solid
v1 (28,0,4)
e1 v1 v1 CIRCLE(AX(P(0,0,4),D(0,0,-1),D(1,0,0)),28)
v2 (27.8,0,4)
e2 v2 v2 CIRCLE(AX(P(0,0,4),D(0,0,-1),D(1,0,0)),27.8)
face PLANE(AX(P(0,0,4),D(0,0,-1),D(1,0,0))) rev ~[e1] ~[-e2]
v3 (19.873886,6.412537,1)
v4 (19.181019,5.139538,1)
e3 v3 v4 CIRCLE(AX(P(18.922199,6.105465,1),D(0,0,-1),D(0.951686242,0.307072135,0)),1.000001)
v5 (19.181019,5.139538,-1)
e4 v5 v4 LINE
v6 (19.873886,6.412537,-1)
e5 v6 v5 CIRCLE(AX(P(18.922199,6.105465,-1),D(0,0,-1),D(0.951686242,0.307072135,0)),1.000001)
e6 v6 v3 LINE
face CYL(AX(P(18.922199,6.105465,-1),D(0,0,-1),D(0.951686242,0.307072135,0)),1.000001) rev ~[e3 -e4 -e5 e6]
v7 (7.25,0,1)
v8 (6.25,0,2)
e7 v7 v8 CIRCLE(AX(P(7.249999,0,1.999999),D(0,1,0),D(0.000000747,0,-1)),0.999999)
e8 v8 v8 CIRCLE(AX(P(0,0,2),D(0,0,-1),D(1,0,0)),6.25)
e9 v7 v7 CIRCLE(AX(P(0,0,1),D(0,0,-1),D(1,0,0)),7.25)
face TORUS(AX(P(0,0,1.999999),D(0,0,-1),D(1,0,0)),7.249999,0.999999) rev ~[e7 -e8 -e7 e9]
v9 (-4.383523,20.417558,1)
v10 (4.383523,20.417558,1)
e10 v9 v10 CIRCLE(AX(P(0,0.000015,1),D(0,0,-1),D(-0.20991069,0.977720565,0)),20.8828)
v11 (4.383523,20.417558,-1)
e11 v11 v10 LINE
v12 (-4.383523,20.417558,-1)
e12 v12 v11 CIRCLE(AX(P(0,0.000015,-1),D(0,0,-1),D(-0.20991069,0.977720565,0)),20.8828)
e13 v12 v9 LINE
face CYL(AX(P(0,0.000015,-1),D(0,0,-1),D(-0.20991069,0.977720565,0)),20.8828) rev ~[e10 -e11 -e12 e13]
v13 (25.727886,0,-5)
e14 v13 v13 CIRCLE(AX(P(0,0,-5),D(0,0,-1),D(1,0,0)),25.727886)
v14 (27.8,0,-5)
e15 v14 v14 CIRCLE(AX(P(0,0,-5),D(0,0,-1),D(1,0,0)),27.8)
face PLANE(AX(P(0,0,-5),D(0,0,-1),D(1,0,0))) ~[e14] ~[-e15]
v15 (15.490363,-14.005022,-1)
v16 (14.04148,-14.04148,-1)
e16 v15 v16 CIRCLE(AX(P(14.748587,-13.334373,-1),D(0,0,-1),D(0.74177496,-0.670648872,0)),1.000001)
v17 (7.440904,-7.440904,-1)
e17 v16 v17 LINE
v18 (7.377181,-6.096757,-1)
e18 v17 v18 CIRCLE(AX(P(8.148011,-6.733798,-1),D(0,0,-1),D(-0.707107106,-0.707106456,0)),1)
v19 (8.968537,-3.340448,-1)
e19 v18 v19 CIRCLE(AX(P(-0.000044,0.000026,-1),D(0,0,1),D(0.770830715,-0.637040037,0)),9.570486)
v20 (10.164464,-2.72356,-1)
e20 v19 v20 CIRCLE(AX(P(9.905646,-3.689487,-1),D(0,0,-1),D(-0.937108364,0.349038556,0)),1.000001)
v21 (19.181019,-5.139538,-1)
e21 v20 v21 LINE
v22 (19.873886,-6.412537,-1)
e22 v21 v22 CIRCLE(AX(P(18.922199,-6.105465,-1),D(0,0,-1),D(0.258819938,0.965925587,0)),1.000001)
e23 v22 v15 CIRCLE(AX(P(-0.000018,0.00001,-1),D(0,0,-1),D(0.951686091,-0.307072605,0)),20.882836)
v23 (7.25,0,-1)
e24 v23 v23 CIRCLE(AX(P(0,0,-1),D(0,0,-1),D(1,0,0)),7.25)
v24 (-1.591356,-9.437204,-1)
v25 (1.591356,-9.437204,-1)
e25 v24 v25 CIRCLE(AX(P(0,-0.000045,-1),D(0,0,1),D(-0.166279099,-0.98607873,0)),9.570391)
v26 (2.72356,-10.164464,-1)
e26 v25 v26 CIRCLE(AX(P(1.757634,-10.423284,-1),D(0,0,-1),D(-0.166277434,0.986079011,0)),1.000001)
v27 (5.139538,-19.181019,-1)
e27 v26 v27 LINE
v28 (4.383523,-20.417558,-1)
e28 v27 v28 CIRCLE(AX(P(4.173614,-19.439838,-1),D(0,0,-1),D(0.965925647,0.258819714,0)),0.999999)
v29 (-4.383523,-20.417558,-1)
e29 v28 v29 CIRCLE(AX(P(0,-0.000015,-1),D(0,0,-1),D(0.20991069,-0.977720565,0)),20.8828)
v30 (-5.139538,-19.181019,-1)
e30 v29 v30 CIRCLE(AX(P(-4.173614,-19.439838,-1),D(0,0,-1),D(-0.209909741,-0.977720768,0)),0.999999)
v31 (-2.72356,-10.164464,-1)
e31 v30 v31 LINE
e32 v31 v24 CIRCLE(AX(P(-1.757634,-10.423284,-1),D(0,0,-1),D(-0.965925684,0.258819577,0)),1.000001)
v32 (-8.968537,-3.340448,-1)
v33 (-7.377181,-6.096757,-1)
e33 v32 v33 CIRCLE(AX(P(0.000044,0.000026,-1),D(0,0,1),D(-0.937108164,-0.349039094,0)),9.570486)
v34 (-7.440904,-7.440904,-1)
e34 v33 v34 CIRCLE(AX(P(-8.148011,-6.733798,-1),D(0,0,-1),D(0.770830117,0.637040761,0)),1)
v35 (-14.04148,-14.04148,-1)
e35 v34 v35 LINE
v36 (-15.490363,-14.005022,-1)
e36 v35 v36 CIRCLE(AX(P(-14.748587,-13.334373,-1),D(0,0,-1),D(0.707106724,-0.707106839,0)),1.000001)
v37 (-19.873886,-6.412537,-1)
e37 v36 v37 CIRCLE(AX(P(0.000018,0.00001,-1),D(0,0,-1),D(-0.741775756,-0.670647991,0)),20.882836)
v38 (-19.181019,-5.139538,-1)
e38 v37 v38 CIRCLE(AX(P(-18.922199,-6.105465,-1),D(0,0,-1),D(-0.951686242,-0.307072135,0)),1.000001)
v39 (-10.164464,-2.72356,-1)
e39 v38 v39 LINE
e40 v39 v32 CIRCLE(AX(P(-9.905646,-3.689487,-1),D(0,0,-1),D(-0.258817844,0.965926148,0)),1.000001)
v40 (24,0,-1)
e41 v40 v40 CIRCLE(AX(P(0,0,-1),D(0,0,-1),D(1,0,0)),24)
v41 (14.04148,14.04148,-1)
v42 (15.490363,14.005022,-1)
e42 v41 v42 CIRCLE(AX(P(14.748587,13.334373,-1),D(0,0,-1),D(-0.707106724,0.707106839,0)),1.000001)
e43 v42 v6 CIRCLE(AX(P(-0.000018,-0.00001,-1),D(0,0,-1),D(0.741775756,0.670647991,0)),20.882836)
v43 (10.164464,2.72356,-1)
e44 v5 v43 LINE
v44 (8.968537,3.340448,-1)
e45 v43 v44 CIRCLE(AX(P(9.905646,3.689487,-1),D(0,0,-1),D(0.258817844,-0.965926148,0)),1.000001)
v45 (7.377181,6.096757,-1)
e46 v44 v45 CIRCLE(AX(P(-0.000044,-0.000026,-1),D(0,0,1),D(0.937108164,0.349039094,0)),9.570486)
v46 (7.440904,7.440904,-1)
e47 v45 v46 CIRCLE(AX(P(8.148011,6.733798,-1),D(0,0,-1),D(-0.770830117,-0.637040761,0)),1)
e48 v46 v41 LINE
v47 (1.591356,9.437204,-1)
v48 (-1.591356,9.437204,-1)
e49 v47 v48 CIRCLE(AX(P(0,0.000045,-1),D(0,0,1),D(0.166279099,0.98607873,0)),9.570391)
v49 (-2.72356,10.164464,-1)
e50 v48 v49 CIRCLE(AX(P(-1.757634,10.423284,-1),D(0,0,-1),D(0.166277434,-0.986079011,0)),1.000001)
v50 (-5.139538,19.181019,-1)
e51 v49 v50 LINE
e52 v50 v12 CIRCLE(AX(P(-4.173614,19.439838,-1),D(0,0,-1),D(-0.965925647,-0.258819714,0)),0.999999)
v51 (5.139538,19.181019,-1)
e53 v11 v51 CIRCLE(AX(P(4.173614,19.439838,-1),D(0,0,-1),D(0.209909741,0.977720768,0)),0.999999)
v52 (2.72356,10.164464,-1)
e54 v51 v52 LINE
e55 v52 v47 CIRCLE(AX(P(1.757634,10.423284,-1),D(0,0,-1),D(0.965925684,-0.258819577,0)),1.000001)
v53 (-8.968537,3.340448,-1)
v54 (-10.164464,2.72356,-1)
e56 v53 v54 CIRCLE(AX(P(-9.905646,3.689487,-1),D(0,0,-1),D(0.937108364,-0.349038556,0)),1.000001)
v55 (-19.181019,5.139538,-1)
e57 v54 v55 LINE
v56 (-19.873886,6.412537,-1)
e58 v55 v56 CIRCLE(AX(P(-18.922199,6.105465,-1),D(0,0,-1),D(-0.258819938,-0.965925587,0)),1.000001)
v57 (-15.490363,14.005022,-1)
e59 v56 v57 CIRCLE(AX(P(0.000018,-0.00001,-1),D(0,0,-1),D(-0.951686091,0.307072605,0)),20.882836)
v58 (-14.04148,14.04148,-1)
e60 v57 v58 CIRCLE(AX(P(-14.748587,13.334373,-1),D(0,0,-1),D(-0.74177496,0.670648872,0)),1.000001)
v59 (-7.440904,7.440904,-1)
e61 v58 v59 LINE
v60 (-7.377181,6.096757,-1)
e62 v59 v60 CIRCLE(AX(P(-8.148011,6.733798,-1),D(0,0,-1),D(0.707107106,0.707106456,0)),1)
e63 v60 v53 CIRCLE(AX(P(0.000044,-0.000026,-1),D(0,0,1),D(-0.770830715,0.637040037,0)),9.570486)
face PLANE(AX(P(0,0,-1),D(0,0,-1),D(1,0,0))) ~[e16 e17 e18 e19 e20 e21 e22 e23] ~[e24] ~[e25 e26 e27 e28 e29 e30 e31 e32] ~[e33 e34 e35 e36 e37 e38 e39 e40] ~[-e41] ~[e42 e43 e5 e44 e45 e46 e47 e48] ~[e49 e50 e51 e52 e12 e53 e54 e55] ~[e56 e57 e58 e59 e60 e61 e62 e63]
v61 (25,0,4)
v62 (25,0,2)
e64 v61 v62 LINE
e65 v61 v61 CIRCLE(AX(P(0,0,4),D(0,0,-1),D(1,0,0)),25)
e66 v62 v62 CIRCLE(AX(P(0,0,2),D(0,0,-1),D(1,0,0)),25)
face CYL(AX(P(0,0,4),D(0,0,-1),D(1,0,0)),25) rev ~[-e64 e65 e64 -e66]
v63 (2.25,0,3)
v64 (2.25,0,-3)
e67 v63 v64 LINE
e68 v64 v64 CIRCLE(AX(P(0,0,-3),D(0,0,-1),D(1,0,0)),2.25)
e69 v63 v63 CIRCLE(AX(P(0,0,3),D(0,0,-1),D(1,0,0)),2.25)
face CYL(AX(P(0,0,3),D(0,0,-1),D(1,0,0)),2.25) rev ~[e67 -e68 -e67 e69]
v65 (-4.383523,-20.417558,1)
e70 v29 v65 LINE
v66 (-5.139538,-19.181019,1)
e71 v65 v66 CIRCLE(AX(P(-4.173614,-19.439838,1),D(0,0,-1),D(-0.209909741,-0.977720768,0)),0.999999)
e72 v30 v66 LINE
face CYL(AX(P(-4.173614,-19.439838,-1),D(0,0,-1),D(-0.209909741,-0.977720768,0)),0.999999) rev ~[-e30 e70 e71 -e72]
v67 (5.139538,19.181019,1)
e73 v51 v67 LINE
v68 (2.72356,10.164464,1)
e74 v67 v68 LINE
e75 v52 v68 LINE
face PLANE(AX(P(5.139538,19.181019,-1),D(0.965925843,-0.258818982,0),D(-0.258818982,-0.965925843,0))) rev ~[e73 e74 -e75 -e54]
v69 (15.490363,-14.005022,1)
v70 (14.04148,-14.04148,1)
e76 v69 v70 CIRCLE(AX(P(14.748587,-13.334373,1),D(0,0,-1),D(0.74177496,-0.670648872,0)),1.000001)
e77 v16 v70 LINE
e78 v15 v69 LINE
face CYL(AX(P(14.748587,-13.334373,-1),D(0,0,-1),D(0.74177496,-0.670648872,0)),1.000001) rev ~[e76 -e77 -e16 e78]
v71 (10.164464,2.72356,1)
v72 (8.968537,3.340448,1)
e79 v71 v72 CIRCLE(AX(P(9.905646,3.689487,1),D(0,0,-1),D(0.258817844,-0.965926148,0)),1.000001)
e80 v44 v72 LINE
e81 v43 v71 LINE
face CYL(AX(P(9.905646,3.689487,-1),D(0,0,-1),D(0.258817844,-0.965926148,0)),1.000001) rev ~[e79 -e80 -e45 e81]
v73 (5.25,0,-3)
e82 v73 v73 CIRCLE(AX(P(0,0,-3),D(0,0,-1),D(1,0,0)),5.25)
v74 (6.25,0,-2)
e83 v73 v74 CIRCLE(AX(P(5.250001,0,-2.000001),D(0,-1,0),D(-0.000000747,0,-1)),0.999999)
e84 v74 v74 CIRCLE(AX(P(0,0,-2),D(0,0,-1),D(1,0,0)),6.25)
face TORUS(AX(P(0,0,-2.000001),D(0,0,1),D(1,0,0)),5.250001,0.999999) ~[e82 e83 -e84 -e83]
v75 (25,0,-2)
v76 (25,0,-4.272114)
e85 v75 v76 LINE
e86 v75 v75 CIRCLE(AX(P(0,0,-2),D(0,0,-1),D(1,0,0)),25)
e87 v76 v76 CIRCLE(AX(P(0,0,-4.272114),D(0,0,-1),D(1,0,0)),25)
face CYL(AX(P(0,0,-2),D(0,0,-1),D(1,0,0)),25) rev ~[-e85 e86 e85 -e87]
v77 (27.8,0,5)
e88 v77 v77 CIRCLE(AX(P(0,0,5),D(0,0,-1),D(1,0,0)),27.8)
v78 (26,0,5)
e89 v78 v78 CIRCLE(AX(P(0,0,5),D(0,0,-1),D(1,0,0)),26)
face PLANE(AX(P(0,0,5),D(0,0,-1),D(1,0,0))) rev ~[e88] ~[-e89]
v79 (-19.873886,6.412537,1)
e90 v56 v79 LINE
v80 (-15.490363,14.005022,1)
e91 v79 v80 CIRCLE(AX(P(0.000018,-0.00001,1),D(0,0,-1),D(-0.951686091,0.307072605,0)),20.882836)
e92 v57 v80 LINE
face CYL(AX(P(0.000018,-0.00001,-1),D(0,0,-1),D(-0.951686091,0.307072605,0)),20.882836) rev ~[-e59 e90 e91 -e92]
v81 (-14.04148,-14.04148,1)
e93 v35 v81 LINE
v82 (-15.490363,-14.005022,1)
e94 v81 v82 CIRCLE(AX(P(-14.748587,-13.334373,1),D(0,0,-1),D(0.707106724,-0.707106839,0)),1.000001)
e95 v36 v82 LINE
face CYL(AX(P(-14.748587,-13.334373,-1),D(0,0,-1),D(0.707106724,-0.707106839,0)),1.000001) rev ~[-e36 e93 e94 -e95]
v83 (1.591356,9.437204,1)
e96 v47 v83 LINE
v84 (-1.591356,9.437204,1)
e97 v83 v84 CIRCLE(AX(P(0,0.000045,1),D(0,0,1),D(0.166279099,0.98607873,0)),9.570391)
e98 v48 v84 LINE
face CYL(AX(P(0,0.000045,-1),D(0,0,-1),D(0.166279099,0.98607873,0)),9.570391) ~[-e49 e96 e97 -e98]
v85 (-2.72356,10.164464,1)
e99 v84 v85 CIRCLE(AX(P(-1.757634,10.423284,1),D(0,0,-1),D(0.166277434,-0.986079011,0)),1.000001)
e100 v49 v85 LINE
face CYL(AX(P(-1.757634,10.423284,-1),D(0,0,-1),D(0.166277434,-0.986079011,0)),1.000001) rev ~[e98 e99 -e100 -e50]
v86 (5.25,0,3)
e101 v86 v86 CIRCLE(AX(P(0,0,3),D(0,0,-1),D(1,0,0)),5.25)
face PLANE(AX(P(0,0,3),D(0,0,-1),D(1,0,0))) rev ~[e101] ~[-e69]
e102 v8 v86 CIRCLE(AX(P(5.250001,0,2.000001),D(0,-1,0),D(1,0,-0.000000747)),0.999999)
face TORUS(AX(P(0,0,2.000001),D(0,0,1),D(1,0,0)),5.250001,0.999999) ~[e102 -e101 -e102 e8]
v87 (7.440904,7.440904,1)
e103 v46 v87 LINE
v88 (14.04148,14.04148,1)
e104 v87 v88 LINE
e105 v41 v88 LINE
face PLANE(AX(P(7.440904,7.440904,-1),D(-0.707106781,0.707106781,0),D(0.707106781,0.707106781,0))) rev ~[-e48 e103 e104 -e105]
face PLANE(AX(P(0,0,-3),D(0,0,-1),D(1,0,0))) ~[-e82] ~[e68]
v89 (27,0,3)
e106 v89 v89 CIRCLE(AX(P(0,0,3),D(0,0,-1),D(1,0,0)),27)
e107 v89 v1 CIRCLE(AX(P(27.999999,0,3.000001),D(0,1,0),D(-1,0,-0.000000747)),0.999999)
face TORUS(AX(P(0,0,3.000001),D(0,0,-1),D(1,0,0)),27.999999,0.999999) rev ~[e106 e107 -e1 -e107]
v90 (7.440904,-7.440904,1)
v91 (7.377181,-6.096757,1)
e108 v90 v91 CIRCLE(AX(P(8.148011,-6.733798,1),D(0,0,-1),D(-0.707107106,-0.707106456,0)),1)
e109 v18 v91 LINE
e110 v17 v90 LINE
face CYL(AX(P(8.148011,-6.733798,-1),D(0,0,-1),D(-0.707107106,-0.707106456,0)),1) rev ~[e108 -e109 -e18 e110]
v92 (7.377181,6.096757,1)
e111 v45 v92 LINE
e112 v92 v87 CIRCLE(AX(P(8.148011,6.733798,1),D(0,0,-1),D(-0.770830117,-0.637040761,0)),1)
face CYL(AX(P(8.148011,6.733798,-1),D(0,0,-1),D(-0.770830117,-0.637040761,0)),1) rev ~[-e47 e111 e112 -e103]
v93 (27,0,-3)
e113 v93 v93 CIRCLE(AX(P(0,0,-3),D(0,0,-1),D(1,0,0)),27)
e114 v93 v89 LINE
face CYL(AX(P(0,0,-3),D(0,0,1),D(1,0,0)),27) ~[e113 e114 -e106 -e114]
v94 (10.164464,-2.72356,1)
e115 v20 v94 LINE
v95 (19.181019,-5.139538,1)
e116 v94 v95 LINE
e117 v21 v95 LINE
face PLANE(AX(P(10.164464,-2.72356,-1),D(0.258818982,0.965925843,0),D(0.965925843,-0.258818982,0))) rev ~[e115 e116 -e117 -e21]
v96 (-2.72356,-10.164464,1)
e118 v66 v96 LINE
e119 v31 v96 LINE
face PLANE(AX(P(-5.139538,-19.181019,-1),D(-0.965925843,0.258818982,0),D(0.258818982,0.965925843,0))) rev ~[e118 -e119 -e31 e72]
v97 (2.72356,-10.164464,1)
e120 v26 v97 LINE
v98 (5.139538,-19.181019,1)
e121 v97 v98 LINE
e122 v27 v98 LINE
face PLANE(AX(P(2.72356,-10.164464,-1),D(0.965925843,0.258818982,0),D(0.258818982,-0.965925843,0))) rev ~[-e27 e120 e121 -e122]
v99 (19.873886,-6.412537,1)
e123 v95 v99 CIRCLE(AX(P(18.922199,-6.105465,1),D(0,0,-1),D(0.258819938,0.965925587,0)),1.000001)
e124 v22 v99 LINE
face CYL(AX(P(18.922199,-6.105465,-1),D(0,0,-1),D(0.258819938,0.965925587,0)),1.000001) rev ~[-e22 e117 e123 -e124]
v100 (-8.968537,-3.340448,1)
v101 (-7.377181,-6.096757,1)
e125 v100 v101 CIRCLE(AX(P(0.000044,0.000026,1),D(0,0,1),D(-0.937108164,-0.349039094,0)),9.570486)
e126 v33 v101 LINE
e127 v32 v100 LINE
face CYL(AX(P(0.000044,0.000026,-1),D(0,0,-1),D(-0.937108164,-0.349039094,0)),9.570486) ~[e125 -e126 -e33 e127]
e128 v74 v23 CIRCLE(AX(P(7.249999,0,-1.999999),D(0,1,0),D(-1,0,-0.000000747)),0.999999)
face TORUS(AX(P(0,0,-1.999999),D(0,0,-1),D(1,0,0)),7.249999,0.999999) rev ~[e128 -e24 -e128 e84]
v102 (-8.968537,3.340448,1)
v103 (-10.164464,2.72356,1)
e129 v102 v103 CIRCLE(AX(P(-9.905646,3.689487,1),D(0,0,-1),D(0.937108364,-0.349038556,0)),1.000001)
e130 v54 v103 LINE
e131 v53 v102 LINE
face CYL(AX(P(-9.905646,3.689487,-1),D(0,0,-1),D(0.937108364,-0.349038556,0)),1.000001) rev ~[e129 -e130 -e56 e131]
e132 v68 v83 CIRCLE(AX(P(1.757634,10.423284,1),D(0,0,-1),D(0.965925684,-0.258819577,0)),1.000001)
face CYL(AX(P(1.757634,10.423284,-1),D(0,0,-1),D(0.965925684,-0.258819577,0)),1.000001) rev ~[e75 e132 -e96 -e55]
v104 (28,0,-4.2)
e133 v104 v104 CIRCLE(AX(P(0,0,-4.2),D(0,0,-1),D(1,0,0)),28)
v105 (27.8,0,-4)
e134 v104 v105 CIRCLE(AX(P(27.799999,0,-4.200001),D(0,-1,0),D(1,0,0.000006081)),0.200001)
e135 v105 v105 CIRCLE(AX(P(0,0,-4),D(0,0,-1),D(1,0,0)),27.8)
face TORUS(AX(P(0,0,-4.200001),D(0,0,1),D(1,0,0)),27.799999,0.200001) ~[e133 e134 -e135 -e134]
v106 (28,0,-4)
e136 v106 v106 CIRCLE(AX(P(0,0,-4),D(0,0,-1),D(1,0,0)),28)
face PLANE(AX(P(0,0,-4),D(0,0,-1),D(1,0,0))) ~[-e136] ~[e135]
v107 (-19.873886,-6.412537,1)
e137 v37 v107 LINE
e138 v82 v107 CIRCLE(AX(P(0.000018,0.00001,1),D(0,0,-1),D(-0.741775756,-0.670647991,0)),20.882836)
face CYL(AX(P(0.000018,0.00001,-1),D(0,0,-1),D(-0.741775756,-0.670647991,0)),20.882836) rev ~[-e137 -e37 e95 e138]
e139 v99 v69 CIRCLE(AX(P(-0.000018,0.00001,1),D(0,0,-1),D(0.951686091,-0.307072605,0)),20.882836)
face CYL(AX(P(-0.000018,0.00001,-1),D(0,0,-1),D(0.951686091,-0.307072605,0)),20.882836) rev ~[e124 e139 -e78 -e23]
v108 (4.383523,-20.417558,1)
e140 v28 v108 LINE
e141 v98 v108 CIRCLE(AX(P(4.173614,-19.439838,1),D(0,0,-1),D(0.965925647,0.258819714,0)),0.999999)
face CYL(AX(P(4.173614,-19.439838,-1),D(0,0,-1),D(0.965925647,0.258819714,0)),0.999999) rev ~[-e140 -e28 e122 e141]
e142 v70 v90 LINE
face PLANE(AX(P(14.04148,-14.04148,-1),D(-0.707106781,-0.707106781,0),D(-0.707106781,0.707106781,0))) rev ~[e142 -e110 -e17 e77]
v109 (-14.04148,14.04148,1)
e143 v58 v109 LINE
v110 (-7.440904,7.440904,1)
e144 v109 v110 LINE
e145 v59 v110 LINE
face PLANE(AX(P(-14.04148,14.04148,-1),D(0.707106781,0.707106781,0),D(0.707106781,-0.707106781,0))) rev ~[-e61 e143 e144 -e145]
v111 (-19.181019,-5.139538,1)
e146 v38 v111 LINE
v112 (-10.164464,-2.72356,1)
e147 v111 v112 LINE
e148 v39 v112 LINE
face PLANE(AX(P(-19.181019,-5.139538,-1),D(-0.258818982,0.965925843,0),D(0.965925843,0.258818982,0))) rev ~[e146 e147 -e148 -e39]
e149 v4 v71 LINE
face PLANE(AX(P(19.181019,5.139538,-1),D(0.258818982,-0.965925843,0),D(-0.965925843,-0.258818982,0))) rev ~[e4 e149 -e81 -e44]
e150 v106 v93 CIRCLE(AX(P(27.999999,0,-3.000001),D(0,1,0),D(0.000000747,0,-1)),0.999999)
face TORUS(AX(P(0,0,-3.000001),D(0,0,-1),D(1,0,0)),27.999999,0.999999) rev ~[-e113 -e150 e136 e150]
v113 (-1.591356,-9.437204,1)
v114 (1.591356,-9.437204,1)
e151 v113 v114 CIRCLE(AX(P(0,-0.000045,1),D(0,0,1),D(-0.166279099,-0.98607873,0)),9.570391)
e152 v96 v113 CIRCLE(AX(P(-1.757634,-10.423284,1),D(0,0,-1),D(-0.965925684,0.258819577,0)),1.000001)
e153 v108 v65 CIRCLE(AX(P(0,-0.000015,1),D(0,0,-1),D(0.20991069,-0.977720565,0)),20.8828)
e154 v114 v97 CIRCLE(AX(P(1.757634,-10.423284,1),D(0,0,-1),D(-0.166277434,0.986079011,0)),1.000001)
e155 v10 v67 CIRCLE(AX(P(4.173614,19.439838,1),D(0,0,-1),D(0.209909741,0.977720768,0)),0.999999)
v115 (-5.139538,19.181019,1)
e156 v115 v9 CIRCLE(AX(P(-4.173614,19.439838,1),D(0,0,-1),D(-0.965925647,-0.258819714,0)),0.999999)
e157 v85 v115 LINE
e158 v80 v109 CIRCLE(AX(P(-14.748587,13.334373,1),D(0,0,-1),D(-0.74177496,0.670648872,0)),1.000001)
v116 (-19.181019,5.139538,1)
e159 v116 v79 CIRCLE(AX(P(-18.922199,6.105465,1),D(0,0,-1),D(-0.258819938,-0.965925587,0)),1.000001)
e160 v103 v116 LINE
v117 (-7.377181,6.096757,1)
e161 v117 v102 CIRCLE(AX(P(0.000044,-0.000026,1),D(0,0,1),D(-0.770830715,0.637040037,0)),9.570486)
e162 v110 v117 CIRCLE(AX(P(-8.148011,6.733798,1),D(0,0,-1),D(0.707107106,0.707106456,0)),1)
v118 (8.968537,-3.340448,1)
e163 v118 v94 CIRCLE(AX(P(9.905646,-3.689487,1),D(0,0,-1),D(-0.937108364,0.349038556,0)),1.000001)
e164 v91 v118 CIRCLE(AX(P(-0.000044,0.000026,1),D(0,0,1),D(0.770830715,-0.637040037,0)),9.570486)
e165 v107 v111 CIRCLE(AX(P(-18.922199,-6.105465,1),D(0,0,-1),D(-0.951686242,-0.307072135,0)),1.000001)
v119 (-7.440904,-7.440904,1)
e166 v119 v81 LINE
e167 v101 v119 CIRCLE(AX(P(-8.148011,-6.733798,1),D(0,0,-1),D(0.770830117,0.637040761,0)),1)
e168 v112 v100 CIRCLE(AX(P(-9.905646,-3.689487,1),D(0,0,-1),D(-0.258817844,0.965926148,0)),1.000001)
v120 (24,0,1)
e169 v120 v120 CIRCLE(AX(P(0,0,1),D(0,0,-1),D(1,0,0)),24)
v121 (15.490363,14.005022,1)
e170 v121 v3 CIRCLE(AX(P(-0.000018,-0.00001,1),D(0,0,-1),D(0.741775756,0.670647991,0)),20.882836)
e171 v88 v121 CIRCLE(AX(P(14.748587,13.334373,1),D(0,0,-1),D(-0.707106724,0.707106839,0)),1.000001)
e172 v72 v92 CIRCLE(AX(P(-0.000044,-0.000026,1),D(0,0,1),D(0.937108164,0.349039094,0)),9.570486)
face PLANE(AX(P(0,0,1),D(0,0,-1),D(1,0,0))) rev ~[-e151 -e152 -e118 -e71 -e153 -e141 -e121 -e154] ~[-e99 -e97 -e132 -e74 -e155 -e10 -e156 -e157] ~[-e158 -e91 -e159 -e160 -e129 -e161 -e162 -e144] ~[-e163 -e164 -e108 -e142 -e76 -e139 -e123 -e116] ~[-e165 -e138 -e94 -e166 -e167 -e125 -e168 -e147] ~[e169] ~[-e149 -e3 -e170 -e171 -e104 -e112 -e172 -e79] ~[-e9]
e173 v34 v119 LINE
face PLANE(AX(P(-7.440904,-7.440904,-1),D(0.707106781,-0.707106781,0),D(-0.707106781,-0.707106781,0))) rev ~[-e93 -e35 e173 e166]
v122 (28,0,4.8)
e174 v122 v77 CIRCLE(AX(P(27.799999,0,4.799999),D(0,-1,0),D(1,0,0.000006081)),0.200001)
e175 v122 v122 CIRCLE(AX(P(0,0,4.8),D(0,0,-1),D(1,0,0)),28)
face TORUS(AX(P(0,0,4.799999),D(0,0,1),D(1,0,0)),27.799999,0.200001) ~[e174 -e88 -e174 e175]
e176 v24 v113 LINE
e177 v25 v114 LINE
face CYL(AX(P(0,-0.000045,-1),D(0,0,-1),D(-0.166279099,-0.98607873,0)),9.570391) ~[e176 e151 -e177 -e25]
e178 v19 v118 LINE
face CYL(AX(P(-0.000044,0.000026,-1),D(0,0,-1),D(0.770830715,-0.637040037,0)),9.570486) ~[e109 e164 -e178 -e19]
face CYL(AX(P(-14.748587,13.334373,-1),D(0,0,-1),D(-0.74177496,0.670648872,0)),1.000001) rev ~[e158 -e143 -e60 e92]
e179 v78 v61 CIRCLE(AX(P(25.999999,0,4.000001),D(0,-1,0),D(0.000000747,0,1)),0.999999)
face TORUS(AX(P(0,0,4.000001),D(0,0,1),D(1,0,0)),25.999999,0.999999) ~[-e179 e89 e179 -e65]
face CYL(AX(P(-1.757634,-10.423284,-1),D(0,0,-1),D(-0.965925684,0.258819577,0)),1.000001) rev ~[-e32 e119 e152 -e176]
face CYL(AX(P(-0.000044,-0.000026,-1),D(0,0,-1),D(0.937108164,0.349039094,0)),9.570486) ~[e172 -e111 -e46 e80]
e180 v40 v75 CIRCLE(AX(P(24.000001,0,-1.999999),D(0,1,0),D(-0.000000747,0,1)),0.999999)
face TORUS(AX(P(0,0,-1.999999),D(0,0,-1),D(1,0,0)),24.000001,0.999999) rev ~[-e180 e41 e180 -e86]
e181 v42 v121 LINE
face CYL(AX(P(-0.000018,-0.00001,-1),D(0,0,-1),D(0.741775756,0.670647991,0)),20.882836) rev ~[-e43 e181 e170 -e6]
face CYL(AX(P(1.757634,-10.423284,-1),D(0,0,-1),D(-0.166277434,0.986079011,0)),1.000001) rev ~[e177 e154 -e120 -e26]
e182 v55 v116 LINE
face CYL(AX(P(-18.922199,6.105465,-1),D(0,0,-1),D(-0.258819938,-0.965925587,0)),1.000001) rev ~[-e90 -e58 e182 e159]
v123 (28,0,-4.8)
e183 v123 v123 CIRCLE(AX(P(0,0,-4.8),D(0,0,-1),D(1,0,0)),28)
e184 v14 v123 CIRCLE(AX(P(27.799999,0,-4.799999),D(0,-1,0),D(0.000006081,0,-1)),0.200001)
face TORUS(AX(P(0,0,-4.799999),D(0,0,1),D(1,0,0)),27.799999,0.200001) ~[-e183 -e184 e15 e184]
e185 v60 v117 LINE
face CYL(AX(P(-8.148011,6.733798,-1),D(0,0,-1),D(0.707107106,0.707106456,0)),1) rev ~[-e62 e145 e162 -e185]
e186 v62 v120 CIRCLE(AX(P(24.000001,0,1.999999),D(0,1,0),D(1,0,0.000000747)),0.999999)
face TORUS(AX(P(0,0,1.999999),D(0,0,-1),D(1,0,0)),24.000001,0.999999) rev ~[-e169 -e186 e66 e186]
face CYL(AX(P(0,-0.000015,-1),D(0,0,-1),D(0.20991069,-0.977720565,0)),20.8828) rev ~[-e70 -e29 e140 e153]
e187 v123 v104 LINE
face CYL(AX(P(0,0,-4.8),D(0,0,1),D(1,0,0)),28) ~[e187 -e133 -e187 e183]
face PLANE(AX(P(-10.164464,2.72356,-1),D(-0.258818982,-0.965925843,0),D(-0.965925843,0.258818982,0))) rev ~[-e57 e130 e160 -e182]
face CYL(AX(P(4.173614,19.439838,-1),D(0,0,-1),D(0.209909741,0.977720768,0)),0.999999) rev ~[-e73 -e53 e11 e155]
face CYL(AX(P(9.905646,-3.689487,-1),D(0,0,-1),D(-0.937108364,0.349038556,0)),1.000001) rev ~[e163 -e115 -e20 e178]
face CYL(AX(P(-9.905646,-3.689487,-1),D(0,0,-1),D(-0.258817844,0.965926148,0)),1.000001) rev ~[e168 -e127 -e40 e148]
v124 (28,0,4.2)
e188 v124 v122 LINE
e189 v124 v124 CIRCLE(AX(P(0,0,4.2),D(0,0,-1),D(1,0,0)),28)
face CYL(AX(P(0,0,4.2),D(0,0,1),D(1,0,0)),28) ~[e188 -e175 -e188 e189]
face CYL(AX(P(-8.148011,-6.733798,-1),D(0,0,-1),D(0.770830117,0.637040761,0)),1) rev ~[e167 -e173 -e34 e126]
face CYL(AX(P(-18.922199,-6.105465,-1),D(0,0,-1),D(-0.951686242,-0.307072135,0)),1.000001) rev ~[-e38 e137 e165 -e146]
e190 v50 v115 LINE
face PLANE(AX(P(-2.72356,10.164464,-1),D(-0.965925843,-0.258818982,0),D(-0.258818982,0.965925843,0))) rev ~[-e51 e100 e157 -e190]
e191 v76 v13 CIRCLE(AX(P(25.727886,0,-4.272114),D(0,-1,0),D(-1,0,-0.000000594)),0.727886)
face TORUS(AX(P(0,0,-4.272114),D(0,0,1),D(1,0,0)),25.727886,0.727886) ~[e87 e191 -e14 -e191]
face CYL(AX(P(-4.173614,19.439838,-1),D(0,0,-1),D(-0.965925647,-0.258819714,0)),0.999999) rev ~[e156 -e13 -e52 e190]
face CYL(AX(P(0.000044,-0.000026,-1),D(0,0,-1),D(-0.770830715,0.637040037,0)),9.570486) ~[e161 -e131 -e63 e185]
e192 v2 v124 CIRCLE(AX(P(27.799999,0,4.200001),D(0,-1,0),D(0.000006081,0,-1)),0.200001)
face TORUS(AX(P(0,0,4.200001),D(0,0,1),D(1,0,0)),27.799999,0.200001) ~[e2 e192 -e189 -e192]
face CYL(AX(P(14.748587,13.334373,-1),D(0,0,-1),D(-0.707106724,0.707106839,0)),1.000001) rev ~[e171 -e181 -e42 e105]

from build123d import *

# Parameters (mm, degrees)
F4_DEPTH = 2


with BuildPart() as f1:
    # F0 (on Front) → F1 (revolve)
    with BuildSketch(Plane.XZ):
        with BuildLine():
            Line((24, 1), (7.25, 1))
            ThreePointArc((7.25, 1), (6.542893, 1.292893), (6.25, 2))
            ThreePointArc((6.25, 2), (5.957107, 2.707107), (5.25, 3))
            Line((5.25, 3), (2.25, 3))
            Line((2.25, 3), (2.25, 1))
            Line((2.25, 1), (2.25, -1))
            Line((2.25, -1), (2.25, -2.505758))
            Line((2.25, -2.505758), (2.25, -3))
            Line((2.25, -3), (5.25, -3))
            ThreePointArc((5.25, -3), (5.957107, -2.707107), (6.25, -2))
            ThreePointArc((6.25, -2), (6.542893, -1.292893), (7.25, -1))
            Line((7.25, -1), (24, -1))
            ThreePointArc((24, -1), (24.707107, -1.292893), (25, -2))
            Line((25, -2), (25, -3))
            Line((25, -3), (25, -4.272114))
            ThreePointArc((25, -4.272114), (25.213193, -4.786807), (25.727886, -5))
            Line((25.727886, -5), (27.8, -5))
            ThreePointArc((27.8, -5), (27.941421, -4.941421), (28, -4.8))
            Line((28, -4.8), (28, -4.2))
            ThreePointArc((28, -4.2), (27.941421, -4.058579), (27.8, -4))
            Line((27.8, -4), (28, -4))
            ThreePointArc((28, -4), (27.292893, -3.707107), (27, -3))
            Line((27, -3), (27, -2))
            Line((27, -2), (27, 0))
            Line((27, 0), (27, 2))
            Line((27, 2), (27, 3))
            ThreePointArc((27, 3), (27.292893, 3.707107), (28, 4))
            Line((28, 4), (27.8, 4))
            ThreePointArc((27.8, 4), (27.941421, 4.058579), (28, 4.2))
            Line((28, 4.2), (28, 4.8))
            ThreePointArc((28, 4.8), (27.941421, 4.941421), (27.8, 5))
            Line((27.8, 5), (26, 5))
            ThreePointArc((26, 5), (25.292893, 4.707107), (25, 4))
            Line((25, 4), (25, 2))
            ThreePointArc((25, 2), (24.707107, 1.292893), (24, 1))
        make_face()
    revolve(axis=Axis((0, 0, 3.768777), (0, 0, -1)))

    # F3 (on face) → F4 (cut)
    with BuildSketch(Plane(origin=(0, 0, -1), x_dir=(1, 0, 0), z_dir=(0, 0, -1))):
        with BuildLine():
            ThreePointArc((4.383523, 20.417558), (0, 20.882815), (-4.383523, 20.417558))
            ThreePointArc((-4.383523, 20.417558), (-5.026786, 19.961465), (-5.139538, 19.181019))
            Line((-5.139538, 19.181019), (-2.72356, 10.164464))
            ThreePointArc((-2.72356, 10.164464), (-2.298084, 9.581907), (-1.591356, 9.437204))
            ThreePointArc((-1.591356, 9.437204), (0, 9.570436), (1.591356, 9.437204))
            ThreePointArc((1.591356, 9.437204), (2.298084, 9.581907), (2.72356, 10.164464))
            Line((2.72356, 10.164464), (5.139538, 19.181019))
            ThreePointArc((5.139538, 19.181019), (5.026786, 19.961465), (4.383523, 20.417558))
        make_face()
        with BuildLine():
            ThreePointArc((7.440904, 7.440904), (7.149133, 6.781152), (7.377181, 6.096757))
            ThreePointArc((7.377181, 6.096757), (8.28824, 4.785218), (8.968537, 3.340448))
            ThreePointArc((8.968537, 3.340448), (9.447217, 2.800755), (10.164464, 2.72356))
            Line((10.164464, 2.72356), (19.181019, 5.139538))
            ThreePointArc((19.181019, 5.139538), (19.800529, 5.627408), (19.873886, 6.412537))
            ThreePointArc((19.873886, 6.412537), (18.085048, 10.441408), (15.490363, 14.005022))
            ThreePointArc((15.490363, 14.005022), (14.773742, 14.334057), (14.04148, 14.04148))
            Line((14.04148, 14.04148), (7.440904, 7.440904))
        make_face()
        with BuildLine():
            ThreePointArc((10.164464, -2.72356), (9.447217, -2.800755), (8.968537, -3.340448))
            ThreePointArc((8.968537, -3.340448), (8.28824, -4.785218), (7.377181, -6.096757))
            ThreePointArc((7.377181, -6.096757), (7.149133, -6.781152), (7.440904, -7.440904))
            Line((7.440904, -7.440904), (14.04148, -14.04148))
            ThreePointArc((14.04148, -14.04148), (14.773742, -14.334057), (15.490363, -14.005022))
            ThreePointArc((15.490363, -14.005022), (18.085048, -10.441408), (19.873886, -6.412537))
            ThreePointArc((19.873886, -6.412537), (19.800529, -5.627408), (19.181019, -5.139538))
            Line((19.181019, -5.139538), (10.164464, -2.72356))
        make_face()
        with BuildLine():
            ThreePointArc((2.72356, -10.164464), (2.298084, -9.581907), (1.591356, -9.437204))
            ThreePointArc((1.591356, -9.437204), (0, -9.570436), (-1.591356, -9.437204))
            ThreePointArc((-1.591356, -9.437204), (-2.298084, -9.581907), (-2.72356, -10.164464))
            Line((-2.72356, -10.164464), (-5.139538, -19.181019))
            ThreePointArc((-5.139538, -19.181019), (-5.026786, -19.961465), (-4.383523, -20.417558))
            ThreePointArc((-4.383523, -20.417558), (0, -20.882815), (4.383523, -20.417558))
            ThreePointArc((4.383523, -20.417558), (5.026786, -19.961465), (5.139538, -19.181019))
            Line((5.139538, -19.181019), (2.72356, -10.164464))
        make_face()
        with BuildLine():
            ThreePointArc((-7.440904, -7.440904), (-7.149133, -6.781152), (-7.377181, -6.096757))
            ThreePointArc((-7.377181, -6.096757), (-8.28824, -4.785218), (-8.968537, -3.340448))
            ThreePointArc((-8.968537, -3.340448), (-9.447217, -2.800755), (-10.164464, -2.72356))
            Line((-10.164464, -2.72356), (-19.181019, -5.139538))
            ThreePointArc((-19.181019, -5.139538), (-19.800529, -5.627408), (-19.873886, -6.412537))
            ThreePointArc((-19.873886, -6.412537), (-18.085048, -10.441408), (-15.490363, -14.005022))
            ThreePointArc((-15.490363, -14.005022), (-14.773742, -14.334057), (-14.04148, -14.04148))
            Line((-14.04148, -14.04148), (-7.440904, -7.440904))
        make_face()
        with BuildLine():
            ThreePointArc((-10.164464, 2.72356), (-9.447217, 2.800755), (-8.968537, 3.340448))
            ThreePointArc((-8.968537, 3.340448), (-8.28824, 4.785218), (-7.377181, 6.096757))
            ThreePointArc((-7.377181, 6.096757), (-7.149133, 6.781152), (-7.440904, 7.440904))
            Line((-7.440904, 7.440904), (-14.04148, 14.04148))
            ThreePointArc((-14.04148, 14.04148), (-14.773742, 14.334057), (-15.490363, 14.005022))
            ThreePointArc((-15.490363, 14.005022), (-18.085048, 10.441408), (-19.873886, 6.412537))
            ThreePointArc((-19.873886, 6.412537), (-19.800529, 5.627408), (-19.181019, 5.139538))
            Line((-19.181019, 5.139538), (-10.164464, 2.72356))
        make_face()
    extrude(amount=-F4_DEPTH, mode=Mode.SUBTRACT)


solid = f1.part
